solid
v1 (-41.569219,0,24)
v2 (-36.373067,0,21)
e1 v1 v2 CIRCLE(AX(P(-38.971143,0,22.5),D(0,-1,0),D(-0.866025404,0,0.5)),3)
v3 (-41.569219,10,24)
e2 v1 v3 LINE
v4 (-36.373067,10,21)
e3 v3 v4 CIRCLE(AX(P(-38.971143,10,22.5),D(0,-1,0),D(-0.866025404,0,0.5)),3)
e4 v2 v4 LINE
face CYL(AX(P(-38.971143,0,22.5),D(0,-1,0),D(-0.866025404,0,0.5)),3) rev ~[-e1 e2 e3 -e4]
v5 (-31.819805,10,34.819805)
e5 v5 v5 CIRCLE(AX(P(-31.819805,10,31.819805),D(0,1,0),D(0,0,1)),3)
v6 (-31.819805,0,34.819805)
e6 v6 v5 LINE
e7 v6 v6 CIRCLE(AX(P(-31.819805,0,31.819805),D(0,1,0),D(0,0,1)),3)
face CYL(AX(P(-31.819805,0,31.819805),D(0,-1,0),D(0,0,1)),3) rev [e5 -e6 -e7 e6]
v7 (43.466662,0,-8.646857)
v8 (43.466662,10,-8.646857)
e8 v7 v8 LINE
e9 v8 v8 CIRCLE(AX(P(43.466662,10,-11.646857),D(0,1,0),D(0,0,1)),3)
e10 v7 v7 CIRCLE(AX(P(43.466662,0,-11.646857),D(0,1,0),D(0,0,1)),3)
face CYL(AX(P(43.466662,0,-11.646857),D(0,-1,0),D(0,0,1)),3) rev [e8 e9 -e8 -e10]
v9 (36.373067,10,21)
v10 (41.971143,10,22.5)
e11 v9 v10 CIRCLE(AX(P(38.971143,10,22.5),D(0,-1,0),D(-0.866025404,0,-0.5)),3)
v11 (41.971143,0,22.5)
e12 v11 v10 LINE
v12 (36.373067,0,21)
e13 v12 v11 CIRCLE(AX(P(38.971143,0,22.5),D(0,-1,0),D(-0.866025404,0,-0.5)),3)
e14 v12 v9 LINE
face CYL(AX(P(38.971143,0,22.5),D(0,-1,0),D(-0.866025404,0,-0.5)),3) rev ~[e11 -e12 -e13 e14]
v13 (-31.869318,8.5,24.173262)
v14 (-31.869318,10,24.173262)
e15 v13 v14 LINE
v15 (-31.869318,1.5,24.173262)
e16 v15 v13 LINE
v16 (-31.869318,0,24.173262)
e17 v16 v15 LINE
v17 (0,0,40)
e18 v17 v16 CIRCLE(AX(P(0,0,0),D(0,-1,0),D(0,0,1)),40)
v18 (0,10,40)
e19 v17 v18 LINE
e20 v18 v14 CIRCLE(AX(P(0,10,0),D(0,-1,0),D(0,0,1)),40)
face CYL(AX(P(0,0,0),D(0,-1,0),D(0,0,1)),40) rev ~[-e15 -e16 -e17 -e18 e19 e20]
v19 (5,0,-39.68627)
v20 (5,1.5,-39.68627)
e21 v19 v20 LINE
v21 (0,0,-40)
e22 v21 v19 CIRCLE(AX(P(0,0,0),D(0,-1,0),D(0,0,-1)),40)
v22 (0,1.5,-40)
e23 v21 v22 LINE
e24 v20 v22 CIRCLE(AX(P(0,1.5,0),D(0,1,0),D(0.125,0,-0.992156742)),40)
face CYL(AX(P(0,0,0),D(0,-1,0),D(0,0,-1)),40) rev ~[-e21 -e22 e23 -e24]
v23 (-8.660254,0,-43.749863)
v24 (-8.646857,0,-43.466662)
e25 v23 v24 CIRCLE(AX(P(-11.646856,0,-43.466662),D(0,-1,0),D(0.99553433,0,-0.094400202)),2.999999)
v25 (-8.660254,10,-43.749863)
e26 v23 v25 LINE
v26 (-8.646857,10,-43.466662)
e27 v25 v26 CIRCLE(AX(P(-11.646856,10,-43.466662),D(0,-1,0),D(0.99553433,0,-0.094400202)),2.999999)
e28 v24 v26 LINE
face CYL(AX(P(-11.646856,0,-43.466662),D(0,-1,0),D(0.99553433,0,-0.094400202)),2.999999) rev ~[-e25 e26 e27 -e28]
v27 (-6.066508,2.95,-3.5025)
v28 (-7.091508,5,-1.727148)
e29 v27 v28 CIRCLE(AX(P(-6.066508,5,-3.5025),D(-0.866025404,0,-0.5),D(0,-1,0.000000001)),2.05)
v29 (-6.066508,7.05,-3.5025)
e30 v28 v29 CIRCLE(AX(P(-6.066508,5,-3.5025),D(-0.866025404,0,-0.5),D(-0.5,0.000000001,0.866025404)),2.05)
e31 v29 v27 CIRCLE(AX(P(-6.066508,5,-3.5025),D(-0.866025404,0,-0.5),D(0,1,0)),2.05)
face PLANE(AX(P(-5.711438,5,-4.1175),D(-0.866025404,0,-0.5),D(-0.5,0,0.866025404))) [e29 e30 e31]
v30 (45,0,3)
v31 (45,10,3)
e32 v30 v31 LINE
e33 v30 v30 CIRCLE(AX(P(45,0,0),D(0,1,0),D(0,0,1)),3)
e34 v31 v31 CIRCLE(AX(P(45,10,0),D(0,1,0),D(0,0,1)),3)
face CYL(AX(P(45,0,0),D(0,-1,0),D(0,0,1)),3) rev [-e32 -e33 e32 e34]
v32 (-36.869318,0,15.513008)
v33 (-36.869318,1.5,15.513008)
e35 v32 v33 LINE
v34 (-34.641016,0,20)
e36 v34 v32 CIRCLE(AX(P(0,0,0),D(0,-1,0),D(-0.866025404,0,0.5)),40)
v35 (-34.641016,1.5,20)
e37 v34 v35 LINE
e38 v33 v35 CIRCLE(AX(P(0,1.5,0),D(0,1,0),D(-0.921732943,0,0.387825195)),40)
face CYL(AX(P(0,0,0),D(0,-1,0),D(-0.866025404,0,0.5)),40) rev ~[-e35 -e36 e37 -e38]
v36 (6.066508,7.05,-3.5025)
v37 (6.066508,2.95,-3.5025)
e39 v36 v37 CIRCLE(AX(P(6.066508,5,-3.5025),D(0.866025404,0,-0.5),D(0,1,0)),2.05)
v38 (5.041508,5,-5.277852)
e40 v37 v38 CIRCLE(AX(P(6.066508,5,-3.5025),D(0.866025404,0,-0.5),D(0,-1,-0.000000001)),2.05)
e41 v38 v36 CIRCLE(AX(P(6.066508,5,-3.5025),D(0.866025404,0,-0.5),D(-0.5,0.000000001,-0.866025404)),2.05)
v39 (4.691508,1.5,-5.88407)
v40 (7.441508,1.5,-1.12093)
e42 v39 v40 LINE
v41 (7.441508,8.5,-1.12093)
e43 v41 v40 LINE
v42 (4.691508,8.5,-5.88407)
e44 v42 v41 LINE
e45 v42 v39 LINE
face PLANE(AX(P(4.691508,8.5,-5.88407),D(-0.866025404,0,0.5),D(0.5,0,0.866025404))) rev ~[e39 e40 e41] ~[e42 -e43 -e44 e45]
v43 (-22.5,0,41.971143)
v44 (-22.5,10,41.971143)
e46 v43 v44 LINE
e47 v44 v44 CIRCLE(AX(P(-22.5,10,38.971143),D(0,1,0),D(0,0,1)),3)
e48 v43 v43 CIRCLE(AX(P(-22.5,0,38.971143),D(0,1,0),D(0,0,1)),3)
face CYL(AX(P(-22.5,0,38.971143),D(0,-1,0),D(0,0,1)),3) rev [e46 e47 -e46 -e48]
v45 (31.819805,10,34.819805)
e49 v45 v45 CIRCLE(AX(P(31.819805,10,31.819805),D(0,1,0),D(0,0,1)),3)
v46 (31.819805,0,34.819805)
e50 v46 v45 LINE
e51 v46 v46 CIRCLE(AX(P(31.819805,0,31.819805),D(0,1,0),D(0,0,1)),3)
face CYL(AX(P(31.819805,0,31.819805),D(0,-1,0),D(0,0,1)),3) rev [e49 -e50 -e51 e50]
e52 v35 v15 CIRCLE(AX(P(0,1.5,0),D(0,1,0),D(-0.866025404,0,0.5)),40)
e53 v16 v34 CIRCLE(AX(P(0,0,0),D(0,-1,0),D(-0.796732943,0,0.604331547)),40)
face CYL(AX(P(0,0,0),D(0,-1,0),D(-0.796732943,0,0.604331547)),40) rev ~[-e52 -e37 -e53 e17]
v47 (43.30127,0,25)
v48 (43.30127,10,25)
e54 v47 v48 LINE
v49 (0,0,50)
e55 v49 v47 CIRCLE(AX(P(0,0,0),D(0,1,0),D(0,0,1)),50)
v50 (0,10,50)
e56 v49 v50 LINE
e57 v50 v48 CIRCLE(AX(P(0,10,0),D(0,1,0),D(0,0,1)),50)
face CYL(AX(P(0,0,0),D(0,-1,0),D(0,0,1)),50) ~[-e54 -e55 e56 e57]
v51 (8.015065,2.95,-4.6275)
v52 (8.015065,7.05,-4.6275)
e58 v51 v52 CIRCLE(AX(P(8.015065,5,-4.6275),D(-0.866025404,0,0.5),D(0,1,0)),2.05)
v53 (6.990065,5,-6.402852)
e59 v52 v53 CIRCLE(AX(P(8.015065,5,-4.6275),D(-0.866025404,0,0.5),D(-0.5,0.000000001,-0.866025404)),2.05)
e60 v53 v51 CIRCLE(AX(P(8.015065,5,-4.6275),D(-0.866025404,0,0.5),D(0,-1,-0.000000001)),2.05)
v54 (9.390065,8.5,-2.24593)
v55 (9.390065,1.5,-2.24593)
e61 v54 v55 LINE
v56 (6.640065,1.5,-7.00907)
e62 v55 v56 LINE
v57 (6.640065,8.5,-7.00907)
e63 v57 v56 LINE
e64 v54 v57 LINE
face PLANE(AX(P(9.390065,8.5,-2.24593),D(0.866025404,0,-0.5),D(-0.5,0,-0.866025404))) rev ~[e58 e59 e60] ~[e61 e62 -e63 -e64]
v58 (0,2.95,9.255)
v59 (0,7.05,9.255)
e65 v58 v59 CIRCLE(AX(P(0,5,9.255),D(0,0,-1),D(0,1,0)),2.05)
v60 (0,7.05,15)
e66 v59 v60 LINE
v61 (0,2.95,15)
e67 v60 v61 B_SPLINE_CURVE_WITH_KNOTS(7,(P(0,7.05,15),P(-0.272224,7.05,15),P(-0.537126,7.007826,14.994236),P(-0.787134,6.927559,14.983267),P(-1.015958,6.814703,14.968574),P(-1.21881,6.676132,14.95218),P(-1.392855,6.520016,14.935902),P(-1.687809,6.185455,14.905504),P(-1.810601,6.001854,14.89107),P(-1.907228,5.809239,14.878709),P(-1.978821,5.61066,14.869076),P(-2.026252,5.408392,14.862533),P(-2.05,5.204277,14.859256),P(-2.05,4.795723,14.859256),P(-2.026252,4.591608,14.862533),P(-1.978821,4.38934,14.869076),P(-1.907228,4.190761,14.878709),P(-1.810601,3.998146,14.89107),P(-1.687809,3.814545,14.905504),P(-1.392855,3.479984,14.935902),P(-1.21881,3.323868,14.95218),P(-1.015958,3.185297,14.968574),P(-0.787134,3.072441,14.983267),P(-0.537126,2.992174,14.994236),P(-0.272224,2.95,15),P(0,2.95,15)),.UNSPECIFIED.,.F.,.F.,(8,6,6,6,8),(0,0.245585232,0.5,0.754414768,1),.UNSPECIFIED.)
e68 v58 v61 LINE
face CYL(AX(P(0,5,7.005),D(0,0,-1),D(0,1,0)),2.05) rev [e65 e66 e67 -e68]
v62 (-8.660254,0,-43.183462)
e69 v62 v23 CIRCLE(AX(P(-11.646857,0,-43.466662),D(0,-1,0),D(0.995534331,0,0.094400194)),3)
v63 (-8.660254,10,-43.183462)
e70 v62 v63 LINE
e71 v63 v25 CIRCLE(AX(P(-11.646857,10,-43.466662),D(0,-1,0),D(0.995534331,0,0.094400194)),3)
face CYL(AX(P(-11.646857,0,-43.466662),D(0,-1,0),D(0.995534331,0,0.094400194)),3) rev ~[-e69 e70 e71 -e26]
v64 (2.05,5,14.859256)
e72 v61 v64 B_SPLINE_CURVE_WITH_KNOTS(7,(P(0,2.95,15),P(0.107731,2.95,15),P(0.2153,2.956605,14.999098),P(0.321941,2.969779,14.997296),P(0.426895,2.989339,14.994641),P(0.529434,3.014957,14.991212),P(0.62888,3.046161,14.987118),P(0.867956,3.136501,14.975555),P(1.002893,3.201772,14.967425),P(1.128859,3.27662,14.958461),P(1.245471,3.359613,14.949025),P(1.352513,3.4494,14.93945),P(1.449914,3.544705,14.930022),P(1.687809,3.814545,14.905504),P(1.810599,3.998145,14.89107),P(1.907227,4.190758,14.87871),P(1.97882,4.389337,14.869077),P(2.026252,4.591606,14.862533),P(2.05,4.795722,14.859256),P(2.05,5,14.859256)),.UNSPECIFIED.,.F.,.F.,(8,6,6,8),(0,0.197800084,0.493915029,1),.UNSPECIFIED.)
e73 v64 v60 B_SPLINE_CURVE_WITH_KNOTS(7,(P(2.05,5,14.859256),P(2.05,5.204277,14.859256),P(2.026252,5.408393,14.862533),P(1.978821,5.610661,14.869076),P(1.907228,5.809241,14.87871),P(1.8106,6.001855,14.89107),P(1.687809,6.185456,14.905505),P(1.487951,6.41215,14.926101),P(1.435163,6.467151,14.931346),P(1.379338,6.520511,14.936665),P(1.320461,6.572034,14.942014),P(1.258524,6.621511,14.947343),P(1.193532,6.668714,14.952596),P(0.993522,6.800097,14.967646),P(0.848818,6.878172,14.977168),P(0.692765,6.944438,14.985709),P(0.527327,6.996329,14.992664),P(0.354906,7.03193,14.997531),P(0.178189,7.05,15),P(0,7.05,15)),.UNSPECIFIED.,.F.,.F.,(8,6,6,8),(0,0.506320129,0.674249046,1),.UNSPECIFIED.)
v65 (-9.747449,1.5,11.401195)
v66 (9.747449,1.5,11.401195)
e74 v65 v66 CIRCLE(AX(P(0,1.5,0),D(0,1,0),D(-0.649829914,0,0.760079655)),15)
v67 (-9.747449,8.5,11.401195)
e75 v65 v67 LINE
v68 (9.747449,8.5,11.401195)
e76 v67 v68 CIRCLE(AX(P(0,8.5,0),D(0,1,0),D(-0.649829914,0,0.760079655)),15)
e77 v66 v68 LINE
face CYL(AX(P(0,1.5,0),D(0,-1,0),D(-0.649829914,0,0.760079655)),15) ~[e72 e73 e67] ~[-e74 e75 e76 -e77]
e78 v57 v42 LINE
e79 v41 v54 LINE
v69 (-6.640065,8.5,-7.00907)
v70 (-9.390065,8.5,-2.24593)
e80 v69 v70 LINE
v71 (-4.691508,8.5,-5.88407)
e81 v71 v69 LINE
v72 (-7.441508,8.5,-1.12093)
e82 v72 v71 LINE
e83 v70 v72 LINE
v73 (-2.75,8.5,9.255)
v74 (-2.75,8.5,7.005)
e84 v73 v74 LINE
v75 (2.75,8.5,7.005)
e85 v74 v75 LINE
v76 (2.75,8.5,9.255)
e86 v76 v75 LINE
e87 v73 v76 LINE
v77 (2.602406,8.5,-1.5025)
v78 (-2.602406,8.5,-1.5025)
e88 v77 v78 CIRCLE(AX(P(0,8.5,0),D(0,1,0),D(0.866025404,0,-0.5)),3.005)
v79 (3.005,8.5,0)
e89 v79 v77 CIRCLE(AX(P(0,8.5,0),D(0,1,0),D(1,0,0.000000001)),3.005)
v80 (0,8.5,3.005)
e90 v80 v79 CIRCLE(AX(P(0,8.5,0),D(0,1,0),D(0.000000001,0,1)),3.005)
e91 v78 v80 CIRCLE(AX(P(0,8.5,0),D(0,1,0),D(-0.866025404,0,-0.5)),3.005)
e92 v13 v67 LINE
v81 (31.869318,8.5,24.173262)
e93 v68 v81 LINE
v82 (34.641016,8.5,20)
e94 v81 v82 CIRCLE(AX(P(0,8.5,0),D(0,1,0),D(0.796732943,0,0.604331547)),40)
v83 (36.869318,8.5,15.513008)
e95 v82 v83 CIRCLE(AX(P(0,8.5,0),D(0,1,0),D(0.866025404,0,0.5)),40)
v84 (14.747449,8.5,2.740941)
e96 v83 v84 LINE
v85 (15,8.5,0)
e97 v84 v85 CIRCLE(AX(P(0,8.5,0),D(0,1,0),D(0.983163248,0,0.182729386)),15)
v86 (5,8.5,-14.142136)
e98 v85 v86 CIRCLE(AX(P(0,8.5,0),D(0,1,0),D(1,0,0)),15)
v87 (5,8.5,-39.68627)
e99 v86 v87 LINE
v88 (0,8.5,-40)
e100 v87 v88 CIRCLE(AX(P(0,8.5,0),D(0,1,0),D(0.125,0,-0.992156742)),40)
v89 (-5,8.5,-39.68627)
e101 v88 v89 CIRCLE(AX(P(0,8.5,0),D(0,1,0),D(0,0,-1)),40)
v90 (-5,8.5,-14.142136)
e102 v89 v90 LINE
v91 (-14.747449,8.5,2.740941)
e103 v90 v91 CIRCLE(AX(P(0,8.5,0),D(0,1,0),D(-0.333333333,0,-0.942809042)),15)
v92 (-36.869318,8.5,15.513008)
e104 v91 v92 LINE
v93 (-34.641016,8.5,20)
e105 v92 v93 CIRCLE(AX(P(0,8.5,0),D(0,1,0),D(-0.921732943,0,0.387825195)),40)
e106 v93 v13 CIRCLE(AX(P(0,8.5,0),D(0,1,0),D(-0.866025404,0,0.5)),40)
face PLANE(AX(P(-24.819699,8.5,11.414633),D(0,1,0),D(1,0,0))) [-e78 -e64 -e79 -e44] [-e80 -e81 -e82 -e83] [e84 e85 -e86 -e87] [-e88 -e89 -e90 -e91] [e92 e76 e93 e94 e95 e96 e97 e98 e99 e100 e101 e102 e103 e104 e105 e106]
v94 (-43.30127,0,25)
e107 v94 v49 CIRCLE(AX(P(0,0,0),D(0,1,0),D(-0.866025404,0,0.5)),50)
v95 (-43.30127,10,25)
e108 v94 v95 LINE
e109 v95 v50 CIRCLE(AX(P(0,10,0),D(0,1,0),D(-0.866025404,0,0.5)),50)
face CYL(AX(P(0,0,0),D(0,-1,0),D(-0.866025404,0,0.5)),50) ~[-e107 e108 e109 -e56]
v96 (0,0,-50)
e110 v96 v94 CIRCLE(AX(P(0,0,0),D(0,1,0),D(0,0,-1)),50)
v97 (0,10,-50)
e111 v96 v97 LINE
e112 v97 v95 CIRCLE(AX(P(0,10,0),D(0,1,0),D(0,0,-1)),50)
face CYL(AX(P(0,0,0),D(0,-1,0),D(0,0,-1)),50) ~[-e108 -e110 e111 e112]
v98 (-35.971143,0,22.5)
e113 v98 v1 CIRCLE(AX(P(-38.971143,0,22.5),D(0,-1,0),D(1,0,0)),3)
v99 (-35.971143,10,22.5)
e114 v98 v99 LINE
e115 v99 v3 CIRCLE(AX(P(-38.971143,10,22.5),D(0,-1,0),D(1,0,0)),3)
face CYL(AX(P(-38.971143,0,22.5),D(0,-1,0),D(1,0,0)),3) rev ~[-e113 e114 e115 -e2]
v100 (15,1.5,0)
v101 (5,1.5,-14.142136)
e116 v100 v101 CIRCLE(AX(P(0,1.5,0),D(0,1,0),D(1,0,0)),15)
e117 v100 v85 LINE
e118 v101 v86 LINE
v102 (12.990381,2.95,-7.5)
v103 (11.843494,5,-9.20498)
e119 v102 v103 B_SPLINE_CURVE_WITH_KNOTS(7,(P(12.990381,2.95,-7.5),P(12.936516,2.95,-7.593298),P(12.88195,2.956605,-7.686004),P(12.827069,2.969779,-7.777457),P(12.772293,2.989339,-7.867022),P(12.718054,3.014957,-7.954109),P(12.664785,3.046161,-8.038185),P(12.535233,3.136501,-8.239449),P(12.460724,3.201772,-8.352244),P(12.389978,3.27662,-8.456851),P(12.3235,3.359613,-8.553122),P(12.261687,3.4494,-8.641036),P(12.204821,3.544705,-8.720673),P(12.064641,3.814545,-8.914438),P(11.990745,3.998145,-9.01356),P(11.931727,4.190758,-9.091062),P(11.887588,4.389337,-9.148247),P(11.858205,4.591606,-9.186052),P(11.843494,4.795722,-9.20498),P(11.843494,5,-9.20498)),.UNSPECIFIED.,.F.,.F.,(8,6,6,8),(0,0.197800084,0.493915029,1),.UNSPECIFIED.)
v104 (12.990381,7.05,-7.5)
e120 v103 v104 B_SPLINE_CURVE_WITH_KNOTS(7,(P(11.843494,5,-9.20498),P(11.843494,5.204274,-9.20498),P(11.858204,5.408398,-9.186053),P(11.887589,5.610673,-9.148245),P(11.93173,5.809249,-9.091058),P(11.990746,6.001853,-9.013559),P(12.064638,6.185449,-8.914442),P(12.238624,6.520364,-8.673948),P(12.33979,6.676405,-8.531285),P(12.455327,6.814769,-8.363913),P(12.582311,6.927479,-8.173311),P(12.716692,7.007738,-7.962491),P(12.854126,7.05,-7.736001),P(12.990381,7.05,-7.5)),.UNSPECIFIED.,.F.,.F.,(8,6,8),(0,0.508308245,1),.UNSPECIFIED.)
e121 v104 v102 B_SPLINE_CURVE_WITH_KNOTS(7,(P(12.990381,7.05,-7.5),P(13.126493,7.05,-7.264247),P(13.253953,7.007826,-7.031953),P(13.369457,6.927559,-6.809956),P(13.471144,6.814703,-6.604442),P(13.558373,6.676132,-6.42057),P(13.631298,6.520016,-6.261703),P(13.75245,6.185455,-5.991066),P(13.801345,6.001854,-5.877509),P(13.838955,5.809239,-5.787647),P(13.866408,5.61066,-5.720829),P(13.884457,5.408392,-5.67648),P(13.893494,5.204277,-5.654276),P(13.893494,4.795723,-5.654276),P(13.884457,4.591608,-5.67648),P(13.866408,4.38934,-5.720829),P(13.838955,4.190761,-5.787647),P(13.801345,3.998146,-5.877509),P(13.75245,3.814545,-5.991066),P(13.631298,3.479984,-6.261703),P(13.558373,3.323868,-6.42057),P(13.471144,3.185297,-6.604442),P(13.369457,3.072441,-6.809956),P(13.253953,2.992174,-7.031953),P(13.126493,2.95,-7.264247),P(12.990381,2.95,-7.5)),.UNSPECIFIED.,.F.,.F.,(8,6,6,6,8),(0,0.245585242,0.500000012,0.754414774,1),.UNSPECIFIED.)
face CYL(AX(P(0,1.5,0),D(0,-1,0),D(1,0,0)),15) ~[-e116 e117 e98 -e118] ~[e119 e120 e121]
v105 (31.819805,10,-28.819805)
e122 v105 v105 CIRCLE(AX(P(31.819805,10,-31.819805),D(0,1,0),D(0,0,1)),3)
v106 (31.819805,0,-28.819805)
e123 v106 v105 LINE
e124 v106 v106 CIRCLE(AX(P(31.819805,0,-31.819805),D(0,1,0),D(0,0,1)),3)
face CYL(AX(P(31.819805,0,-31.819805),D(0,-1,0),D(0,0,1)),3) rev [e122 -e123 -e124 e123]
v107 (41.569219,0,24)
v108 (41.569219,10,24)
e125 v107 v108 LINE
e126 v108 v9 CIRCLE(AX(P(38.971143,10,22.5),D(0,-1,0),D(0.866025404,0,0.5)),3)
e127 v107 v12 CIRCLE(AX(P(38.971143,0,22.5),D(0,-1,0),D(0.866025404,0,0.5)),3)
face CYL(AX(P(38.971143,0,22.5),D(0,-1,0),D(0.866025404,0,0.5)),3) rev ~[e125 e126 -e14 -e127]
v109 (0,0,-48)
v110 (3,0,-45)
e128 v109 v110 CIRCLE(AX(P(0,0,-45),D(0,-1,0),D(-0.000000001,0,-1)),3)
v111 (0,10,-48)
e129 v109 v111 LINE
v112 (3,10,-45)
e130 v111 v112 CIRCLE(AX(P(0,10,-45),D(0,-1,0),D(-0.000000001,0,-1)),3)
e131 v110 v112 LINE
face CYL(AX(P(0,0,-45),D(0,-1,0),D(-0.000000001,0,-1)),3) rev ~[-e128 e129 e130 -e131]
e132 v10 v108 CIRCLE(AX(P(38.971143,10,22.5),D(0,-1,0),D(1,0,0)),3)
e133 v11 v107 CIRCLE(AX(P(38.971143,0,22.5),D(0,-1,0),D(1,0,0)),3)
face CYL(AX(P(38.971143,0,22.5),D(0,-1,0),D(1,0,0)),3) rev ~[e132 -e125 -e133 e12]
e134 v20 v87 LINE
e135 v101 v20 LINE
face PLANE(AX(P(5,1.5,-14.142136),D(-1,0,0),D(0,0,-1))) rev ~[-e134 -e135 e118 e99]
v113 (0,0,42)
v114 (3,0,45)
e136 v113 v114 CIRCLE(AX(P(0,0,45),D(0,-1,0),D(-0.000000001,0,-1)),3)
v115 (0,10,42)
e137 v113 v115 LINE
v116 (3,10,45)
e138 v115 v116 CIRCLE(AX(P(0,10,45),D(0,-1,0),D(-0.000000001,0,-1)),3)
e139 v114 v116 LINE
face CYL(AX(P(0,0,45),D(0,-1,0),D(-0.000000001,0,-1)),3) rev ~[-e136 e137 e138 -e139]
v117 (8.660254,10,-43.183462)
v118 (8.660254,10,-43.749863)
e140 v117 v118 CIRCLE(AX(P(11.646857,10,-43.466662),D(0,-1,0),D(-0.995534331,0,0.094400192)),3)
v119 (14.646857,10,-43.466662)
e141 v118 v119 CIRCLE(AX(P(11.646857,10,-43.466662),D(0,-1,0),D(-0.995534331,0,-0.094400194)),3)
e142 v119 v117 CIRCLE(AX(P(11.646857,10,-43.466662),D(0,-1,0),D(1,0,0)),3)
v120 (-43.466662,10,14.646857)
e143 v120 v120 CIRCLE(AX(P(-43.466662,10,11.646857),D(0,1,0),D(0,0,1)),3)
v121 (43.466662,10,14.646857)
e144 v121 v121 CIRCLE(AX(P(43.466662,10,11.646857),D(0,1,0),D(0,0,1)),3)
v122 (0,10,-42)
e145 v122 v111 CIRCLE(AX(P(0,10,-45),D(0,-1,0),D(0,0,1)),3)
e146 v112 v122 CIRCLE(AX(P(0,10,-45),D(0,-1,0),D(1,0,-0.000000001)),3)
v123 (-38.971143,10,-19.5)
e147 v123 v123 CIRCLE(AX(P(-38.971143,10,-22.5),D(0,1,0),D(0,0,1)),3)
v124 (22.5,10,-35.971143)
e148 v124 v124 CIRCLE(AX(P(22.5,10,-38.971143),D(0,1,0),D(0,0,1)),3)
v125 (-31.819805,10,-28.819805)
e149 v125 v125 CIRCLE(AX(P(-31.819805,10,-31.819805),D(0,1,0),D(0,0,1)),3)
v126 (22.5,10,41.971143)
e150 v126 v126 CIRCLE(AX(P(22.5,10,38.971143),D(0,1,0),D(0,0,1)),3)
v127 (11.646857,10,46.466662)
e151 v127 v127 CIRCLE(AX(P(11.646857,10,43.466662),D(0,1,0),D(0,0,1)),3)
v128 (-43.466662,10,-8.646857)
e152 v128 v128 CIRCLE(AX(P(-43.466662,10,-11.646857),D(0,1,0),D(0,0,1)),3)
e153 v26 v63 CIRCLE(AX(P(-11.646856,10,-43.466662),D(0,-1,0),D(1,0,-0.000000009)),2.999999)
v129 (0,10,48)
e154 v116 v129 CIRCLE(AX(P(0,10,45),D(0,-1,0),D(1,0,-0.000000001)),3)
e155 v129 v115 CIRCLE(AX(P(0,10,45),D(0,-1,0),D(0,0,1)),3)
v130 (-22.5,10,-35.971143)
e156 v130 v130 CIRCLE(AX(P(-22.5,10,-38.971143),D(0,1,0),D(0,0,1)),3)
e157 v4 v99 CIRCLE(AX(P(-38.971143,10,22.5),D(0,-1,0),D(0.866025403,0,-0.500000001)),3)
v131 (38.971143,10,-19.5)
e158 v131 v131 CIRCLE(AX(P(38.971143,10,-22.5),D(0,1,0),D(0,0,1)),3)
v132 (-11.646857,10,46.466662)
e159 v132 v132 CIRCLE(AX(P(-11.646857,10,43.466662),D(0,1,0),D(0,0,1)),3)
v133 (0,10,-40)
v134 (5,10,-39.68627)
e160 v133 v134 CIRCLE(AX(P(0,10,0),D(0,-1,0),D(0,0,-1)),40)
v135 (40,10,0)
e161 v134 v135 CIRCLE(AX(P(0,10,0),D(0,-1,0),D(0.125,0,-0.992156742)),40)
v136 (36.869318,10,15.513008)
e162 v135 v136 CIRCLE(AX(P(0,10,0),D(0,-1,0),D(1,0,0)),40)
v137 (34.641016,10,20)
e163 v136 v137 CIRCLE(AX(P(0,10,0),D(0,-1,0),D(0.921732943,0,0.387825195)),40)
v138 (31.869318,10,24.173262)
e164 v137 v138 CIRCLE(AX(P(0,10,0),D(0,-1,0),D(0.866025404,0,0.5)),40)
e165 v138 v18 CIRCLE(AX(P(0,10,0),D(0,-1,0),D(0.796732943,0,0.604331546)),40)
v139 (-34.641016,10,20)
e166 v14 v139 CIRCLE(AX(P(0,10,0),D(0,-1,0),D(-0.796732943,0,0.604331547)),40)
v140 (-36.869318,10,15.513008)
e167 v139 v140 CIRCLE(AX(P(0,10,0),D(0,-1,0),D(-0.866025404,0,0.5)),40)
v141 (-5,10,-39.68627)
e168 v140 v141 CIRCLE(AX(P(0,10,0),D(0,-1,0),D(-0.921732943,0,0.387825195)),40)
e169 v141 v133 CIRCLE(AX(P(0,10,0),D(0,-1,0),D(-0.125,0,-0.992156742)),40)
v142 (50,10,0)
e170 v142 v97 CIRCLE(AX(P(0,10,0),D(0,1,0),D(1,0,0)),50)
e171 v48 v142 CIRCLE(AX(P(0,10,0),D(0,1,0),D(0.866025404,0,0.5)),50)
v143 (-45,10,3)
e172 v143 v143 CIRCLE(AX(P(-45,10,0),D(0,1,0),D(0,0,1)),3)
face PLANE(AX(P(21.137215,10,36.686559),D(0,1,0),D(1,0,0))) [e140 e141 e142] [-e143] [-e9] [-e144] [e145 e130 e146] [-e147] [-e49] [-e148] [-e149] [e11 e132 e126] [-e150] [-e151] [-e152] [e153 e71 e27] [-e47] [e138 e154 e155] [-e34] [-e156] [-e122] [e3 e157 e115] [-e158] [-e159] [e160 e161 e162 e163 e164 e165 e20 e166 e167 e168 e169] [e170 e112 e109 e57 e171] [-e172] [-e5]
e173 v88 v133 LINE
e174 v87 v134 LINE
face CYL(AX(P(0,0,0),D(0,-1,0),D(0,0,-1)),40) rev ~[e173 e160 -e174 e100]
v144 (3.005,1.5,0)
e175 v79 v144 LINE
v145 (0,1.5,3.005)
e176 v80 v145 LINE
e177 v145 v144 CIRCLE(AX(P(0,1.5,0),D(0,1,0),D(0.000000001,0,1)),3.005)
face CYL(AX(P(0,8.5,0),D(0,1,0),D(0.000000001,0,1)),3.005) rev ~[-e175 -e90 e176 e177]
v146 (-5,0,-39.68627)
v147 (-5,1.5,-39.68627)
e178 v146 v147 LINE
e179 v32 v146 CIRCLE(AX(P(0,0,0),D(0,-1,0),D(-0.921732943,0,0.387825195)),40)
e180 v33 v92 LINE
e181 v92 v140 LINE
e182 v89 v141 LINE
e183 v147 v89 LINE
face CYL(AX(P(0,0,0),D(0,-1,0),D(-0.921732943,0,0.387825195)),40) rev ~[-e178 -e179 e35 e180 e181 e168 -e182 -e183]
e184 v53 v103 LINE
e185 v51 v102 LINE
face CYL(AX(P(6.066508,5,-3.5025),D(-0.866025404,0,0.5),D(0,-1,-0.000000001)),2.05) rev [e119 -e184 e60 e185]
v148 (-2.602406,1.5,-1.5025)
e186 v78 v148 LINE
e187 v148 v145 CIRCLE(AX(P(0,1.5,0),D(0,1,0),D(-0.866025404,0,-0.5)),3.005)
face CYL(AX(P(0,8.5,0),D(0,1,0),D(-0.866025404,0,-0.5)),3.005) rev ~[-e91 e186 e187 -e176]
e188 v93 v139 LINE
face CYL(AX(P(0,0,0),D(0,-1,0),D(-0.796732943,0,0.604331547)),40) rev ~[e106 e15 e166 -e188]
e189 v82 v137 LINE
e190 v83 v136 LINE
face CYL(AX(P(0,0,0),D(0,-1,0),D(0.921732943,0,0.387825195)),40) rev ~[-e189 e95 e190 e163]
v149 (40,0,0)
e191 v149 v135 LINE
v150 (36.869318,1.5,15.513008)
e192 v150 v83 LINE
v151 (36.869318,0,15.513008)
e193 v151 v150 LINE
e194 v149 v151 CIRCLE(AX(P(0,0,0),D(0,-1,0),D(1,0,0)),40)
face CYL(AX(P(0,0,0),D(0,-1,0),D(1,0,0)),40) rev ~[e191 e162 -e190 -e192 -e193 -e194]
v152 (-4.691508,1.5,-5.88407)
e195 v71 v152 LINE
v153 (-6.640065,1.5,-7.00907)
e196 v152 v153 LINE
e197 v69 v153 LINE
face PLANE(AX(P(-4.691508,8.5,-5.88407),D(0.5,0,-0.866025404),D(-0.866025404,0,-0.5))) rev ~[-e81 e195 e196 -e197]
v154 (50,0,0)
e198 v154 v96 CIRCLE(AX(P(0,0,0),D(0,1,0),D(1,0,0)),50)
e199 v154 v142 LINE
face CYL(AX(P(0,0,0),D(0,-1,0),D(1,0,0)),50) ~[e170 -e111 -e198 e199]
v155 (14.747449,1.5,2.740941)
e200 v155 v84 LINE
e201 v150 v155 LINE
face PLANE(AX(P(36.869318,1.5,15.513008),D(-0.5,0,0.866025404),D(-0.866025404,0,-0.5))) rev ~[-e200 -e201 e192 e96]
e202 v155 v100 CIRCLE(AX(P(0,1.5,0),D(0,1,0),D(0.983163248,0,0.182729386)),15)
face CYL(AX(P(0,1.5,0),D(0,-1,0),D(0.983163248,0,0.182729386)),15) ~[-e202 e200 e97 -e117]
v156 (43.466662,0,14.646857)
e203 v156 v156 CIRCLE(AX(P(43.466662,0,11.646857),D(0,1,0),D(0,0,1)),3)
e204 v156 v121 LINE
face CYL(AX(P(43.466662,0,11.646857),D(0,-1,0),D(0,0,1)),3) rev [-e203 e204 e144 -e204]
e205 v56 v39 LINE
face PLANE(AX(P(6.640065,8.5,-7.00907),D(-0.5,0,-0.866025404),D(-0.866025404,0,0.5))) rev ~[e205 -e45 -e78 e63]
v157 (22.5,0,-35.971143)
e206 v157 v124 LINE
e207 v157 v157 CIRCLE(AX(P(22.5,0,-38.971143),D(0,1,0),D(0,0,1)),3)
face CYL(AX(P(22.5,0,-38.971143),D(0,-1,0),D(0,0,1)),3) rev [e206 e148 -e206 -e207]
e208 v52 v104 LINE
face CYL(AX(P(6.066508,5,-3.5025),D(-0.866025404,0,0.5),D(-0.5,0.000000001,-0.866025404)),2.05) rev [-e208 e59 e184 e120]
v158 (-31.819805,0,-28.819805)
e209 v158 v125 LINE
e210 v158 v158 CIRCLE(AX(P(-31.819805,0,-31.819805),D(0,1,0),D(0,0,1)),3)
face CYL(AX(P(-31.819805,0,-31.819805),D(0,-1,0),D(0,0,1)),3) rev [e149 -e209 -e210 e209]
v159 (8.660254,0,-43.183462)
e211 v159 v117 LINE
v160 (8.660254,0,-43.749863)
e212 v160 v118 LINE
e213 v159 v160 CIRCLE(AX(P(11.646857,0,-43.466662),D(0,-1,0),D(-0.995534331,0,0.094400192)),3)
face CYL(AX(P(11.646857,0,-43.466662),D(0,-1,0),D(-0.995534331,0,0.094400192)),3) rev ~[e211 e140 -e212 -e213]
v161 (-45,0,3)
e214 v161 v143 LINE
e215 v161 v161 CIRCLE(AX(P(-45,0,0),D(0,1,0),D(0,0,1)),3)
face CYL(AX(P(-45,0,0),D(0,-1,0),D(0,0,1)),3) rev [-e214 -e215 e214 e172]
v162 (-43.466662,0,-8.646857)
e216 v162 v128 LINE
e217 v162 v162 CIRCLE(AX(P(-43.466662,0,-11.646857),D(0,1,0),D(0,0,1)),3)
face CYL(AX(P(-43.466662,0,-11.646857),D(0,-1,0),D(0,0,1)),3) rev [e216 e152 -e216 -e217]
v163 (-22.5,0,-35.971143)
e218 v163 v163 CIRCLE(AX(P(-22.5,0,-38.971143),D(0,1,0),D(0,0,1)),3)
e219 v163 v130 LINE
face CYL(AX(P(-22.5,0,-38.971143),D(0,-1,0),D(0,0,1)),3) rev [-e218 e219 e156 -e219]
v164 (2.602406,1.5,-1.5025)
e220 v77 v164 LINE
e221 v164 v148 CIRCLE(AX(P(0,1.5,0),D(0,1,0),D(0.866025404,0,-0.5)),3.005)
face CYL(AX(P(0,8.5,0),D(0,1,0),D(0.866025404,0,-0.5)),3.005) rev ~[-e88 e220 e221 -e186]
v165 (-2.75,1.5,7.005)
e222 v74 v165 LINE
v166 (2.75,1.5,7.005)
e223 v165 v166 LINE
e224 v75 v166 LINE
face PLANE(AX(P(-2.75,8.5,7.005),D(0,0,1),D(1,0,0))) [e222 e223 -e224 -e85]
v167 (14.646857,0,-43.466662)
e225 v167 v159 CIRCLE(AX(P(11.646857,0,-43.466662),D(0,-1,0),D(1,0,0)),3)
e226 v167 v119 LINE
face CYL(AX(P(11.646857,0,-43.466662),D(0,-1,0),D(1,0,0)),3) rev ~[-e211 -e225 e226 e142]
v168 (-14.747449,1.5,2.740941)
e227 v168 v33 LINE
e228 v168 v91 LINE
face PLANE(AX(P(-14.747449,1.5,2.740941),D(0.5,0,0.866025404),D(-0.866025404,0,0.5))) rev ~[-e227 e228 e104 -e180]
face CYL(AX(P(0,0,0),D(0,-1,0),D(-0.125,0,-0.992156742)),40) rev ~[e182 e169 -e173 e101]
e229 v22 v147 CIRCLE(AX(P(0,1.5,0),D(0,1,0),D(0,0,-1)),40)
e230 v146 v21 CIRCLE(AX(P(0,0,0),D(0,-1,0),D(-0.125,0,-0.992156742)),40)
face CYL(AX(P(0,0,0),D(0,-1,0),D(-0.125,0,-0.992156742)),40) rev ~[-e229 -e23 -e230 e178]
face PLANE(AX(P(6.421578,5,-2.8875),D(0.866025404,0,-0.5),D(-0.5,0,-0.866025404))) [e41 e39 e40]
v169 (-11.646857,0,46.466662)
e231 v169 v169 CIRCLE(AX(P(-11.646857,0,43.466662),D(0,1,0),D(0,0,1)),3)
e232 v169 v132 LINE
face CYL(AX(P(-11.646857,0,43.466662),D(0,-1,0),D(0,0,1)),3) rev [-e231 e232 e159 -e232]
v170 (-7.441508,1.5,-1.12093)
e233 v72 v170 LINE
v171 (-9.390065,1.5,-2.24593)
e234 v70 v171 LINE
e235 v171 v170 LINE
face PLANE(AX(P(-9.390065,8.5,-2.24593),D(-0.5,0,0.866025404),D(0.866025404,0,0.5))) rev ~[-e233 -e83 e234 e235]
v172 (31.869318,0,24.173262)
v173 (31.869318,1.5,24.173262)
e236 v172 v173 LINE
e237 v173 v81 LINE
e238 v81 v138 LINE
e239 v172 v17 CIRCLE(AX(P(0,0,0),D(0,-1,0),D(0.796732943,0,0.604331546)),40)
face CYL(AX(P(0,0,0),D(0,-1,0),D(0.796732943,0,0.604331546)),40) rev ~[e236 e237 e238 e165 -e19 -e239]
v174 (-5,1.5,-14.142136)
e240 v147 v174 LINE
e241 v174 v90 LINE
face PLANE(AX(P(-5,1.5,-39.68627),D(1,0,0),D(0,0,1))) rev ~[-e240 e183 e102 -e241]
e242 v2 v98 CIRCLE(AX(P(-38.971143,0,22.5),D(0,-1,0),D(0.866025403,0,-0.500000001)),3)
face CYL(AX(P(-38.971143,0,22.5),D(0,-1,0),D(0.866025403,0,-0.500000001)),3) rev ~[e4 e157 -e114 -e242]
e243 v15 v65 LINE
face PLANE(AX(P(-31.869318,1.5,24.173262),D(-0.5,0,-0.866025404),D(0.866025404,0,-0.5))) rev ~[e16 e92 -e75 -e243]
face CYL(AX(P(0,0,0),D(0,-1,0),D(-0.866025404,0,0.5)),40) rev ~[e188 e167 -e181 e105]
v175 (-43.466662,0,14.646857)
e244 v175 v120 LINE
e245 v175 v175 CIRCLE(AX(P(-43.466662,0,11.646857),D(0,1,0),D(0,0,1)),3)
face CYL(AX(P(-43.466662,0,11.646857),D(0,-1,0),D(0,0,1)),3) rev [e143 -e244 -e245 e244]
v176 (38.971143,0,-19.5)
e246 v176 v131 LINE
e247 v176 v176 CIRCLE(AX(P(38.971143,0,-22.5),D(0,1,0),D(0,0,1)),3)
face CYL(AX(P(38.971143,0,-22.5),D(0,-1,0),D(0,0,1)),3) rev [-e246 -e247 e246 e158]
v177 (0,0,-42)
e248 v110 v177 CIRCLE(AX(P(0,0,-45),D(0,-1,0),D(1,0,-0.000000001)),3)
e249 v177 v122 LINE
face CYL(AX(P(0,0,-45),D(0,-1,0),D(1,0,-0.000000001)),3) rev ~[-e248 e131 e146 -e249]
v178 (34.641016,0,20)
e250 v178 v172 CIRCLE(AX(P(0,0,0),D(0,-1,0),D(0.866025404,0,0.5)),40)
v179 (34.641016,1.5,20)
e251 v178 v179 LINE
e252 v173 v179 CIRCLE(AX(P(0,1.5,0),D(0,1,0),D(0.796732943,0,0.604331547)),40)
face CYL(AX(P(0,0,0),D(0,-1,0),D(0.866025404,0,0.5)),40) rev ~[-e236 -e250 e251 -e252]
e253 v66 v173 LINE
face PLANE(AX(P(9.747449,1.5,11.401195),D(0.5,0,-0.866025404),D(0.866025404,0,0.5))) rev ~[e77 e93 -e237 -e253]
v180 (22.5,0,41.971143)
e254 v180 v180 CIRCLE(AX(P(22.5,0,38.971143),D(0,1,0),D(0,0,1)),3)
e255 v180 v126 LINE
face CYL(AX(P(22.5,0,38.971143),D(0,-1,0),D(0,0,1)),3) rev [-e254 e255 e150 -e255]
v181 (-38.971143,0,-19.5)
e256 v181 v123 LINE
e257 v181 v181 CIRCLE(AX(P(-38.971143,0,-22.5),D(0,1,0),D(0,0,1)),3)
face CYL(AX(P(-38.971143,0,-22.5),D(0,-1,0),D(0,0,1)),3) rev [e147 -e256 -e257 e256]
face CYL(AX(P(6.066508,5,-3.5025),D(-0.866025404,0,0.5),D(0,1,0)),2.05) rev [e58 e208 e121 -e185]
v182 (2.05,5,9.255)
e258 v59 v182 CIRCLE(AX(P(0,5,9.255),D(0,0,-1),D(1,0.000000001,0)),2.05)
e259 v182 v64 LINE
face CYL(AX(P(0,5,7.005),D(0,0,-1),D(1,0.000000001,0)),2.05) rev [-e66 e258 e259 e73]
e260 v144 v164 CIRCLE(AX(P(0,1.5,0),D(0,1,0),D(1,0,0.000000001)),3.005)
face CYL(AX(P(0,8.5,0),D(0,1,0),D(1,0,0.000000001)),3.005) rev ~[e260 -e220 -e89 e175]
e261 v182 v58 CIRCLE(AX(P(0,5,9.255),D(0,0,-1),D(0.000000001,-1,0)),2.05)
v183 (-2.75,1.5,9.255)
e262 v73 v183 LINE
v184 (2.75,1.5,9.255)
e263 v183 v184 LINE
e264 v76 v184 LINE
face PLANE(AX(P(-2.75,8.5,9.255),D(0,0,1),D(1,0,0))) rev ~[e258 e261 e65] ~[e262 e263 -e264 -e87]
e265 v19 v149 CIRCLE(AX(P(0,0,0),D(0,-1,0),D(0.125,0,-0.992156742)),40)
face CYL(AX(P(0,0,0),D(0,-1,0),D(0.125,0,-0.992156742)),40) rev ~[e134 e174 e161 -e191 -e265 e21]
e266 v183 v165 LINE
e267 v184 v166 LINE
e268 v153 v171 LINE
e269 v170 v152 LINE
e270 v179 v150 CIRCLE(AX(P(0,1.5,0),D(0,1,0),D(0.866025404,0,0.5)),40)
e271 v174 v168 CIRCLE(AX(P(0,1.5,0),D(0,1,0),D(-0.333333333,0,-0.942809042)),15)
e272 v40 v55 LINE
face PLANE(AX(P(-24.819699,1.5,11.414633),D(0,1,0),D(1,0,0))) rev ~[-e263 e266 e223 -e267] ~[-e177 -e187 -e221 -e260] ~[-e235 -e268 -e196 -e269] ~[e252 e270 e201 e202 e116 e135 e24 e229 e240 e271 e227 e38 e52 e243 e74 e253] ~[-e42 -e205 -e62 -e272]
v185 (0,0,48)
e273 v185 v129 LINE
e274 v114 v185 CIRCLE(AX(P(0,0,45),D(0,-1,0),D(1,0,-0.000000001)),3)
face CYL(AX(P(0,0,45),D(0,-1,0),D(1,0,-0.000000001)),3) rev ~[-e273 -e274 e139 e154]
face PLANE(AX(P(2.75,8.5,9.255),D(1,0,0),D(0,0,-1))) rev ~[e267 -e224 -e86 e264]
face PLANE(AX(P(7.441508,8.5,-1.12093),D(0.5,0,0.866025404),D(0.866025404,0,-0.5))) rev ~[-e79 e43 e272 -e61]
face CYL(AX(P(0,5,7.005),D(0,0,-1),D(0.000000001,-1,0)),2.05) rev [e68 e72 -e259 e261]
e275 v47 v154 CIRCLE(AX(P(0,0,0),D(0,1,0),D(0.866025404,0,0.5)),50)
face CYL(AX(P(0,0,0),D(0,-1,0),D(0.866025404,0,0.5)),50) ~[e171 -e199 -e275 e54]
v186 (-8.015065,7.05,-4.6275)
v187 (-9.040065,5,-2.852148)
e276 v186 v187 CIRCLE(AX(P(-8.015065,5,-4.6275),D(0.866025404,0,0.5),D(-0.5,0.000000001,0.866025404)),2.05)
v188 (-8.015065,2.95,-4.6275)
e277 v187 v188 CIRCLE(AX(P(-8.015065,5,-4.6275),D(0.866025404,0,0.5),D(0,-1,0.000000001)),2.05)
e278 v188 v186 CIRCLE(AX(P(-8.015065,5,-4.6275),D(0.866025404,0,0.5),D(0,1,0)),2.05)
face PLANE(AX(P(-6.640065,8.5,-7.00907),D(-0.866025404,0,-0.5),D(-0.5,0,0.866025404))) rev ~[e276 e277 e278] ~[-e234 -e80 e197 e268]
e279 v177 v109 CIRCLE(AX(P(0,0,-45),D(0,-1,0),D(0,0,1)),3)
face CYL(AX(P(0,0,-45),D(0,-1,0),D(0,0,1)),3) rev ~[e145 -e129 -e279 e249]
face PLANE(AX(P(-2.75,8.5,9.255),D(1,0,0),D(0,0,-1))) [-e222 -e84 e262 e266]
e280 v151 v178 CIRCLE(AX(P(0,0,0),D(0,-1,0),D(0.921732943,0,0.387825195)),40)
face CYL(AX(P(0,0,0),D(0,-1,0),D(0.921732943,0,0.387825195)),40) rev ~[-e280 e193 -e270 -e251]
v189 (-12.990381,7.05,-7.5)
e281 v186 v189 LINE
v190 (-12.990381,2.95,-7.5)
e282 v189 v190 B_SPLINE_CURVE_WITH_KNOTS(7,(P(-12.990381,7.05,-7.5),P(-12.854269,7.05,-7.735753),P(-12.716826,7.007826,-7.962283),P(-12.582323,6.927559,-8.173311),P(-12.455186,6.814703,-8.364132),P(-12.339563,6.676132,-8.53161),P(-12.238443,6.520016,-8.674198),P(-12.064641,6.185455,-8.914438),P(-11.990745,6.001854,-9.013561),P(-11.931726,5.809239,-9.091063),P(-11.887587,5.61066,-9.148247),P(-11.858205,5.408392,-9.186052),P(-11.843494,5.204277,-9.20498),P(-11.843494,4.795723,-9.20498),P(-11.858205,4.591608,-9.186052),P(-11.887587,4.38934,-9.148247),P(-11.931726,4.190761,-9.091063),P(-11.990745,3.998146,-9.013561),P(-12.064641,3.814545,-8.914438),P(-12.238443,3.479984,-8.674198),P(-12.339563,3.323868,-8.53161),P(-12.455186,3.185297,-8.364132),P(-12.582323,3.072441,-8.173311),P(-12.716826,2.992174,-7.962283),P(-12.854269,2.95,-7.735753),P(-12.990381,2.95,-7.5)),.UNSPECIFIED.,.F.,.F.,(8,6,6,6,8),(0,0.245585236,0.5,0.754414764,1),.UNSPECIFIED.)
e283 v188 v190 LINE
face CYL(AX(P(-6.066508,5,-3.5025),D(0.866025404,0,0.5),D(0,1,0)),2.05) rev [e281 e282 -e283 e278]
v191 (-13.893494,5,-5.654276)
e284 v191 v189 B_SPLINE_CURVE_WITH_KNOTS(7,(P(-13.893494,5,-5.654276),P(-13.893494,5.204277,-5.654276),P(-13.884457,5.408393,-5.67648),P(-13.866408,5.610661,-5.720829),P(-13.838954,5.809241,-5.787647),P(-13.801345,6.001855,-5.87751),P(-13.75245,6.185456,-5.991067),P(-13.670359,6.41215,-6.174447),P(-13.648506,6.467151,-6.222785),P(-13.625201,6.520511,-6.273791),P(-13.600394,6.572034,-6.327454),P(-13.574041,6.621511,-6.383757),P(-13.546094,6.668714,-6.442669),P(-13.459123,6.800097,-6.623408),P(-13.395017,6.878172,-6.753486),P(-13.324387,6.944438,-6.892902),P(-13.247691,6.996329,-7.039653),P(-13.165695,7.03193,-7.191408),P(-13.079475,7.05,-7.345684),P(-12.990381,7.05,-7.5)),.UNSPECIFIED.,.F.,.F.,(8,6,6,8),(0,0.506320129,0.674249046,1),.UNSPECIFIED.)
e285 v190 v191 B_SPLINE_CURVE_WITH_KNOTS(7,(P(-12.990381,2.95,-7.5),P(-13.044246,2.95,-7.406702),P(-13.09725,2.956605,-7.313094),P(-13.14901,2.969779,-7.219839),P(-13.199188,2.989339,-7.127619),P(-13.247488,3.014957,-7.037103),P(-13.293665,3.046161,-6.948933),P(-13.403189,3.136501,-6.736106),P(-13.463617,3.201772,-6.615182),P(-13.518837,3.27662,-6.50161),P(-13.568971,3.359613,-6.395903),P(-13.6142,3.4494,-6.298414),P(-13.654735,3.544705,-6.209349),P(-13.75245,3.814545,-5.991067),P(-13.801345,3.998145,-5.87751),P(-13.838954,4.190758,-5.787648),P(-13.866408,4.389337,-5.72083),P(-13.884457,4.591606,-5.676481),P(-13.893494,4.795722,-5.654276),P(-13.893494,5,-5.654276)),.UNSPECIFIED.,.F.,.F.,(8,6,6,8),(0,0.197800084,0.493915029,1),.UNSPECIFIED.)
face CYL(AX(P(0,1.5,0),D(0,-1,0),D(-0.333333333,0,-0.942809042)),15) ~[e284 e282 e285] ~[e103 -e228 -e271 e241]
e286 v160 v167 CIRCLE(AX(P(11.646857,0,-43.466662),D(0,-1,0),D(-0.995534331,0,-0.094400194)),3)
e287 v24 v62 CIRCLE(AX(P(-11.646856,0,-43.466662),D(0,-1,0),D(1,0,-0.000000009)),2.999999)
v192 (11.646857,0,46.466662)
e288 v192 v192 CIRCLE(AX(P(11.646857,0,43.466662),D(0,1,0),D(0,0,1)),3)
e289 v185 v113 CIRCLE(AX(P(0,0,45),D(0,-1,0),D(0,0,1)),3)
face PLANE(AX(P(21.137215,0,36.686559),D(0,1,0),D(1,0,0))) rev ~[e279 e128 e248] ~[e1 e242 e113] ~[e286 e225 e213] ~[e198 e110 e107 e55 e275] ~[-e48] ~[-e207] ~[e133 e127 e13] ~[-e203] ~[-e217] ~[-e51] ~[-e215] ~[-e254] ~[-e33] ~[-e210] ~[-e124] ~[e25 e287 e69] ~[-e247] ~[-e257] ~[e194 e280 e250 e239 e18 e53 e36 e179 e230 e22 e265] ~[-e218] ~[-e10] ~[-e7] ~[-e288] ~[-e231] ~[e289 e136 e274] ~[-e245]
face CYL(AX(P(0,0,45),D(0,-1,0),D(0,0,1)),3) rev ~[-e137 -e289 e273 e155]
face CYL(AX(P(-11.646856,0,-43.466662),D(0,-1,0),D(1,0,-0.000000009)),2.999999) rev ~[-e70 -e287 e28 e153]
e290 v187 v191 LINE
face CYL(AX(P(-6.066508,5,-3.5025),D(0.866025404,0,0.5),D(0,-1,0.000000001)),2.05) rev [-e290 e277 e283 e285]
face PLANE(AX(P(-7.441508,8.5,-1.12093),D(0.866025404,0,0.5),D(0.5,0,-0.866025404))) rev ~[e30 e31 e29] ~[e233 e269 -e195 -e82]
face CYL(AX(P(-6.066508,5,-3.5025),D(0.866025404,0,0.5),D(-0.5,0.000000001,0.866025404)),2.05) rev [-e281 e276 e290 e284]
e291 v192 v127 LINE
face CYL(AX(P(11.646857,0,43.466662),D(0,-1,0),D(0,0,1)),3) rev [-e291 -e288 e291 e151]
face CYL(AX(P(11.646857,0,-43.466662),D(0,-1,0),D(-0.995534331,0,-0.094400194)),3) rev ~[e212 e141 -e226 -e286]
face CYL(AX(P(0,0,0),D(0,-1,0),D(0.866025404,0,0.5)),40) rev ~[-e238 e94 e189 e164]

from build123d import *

# Parameters (mm, degrees)
SKETCH2_R                = 3
BOSS_EXTRUDE4_DEPTH      = 10
BOSS_EXTRUDE8_DEPTH      = 3.5
BOSS_EXTRUDE8_DEPTH_BACK = 3.5
BOSS_EXTRUDE8_START      = 5
SKETCH7_W                = 5.5
SKETCH7_H                = 2.25
CUT_EXTRUDE2_DEPTH       = 72.219730412
CUT_EXTRUDE3_DEPTH       = 16
CUT_EXTRUDE4_DEPTH       = 17
CUT_EXTRUDE5_DEPTH       = 22


with BuildPart() as part:
    # Sketch2 → Boss-Extrude4 (new body)
    # profile 1 of 4: a face of its own
    with BuildSketch(Plane(origin=(0, 0, 0), x_dir=(1, 0, 0), z_dir=(0, 1, 0))):
        with BuildLine():
            Line((0, -42), (0, -40))
            ThreePointArc((0, -40), (-17.79142386, -35.825483068), (-31.869317712, -24.173261852))
            ThreePointArc((-31.869317712, -24.173261852), (-33.320566566, -22.13006651), (-34.641016151, -20))
            Line((-34.641016151, -20), (-36.373066959, -21))
            ThreePointArc((-36.373066959, -21), (-36.073365691, -21.723542865), (-35.97114317, -22.5))
            ThreePointArc((-35.97114317, -22.5), (-38.194686035, -25.397777479), (-41.569219382, -24))
            Line((-41.569219382, -24), (-43.301270189, -25))
            ThreePointArc((-43.301270189, -25), (-25, -43.301270189), (0, -50))
            Line((0, -50), (0, -48))
            ThreePointArc((0, -48), (-3, -45), (0, -42))
        make_face()
        with Locations(Location((-31.819805153, -31.819805153, 0), (0, 0, 270))):
            Circle(SKETCH2_R, mode=Mode.SUBTRACT)
        with Locations(Location((-22.5, -38.97114317, 0), (0, 0, 270))):
            Circle(SKETCH2_R, mode=Mode.SUBTRACT)
        with Locations(Location((-11.64685703, -43.466662183, 0), (0, 0, 270))):
            Circle(SKETCH2_R, mode=Mode.SUBTRACT)
    # profile 2 of 4: a face of its own
    with BuildSketch(Plane(origin=(0, 0, 0), x_dir=(1, 0, 0), z_dir=(0, 1, 0))):
        with BuildLine():
            Line((-36.373066959, -21), (-34.641016151, -20))
            ThreePointArc((-34.641016151, -20), (-35.825483068, -17.79142386), (-36.869317712, -15.513007814))
            ThreePointArc((-36.869317712, -15.513007814), (-34.641016151, 20), (-5, 39.686269666))
            ThreePointArc((-5, 39.686269666), (-2.504916502, 39.921490369), (0, 40))
            Line((0, 40), (0, 42))
            ThreePointArc((0, 42), (-3, 45), (0, 48))
            Line((0, 48), (0, 50))
            ThreePointArc((0, 50), (-43.301270189, 25), (-43.301270189, -25))
            Line((-43.301270189, -25), (-41.569219382, -24))
            ThreePointArc((-41.569219382, -24), (-40.47114317, -19.901923789), (-36.373066959, -21))
        make_face()
        with Locations(Location((-43.466662183, -11.64685703, 0), (0, 0, 270))):
            Circle(SKETCH2_R, mode=Mode.SUBTRACT)
        with Locations(Location((-45, 0, 0), (0, 0, 270))):
            Circle(SKETCH2_R, mode=Mode.SUBTRACT)
        with Locations(Location((-43.466662183, 11.64685703, 0), (0, 0, 270))):
            Circle(SKETCH2_R, mode=Mode.SUBTRACT)
        with Locations(Location((-38.97114317, 22.5, 0), (0, 0, 270))):
            Circle(SKETCH2_R, mode=Mode.SUBTRACT)
        with Locations(Location((-31.819805153, 31.819805153, 0), (0, 0, 270))):
            Circle(SKETCH2_R, mode=Mode.SUBTRACT)
        with Locations(Location((-22.5, 38.97114317, 0), (0, 0, 270))):
            Circle(SKETCH2_R, mode=Mode.SUBTRACT)
        with BuildLine():
            ThreePointArc((-8.64685703, 43.466662183), (-8.650208153, 43.324903542), (-8.660254038, 43.183461601))
            ThreePointArc((-8.660254038, 43.183461601), (-14.64685703, 43.466662183), (-8.660254038, 43.749862765))
            ThreePointArc((-8.660254038, 43.749862765), (-8.650208153, 43.608420824), (-8.64685703, 43.466662183))
        make_face(mode=Mode.SUBTRACT)
    # profile 3 of 4: a face of its own
    with BuildSketch(Plane(origin=(0, 0, 0), x_dir=(1, 0, 0), z_dir=(0, 1, 0))):
        with BuildLine():
            ThreePointArc((36.869317712, -15.513007814), (35.825483068, -17.79142386), (34.641016151, -20))
            Line((34.641016151, -20), (36.373066959, -21))
            ThreePointArc((36.373066959, -21), (39.747600306, -19.602222521), (41.97114317, -22.5))
            ThreePointArc((41.97114317, -22.5), (41.868920649, -23.276457135), (41.569219382, -24))
            Line((41.569219382, -24), (43.301270189, -25))
            ThreePointArc((43.301270189, -25), (48.296291314, -12.940952255), (50, 0))
            ThreePointArc((50, 0), (35.355339059, 35.355339059), (0, 50))
            Line((0, 50), (0, 48))
            ThreePointArc((0, 48), (2.121320344, 47.121320344), (3, 45))
            ThreePointArc((3, 45), (2.121320344, 42.878679656), (0, 42))
            Line((0, 42), (0, 40))
            ThreePointArc((0, 40), (2.504916502, 39.921490369), (5, 39.686269666))
            ThreePointArc((5, 39.686269666), (30, 26.457513111), (40, 0))
            ThreePointArc((40, 0), (39.209518669, -7.912878475), (36.869317712, -15.513007814))
        make_face()
        with Locations(Location((43.466662183, -11.64685703, 0), (0, 0, 270))):
            Circle(SKETCH2_R, mode=Mode.SUBTRACT)
        with Locations(Location((45, 0, 0), (0, 0, 270))):
            Circle(SKETCH2_R, mode=Mode.SUBTRACT)
        with Locations(Location((43.466662183, 11.64685703, 0), (0, 0, 270))):
            Circle(SKETCH2_R, mode=Mode.SUBTRACT)
        with Locations(Location((38.97114317, 22.5, 0), (0, 0, 270))):
            Circle(SKETCH2_R, mode=Mode.SUBTRACT)
        with BuildLine():
            ThreePointArc((14.64685703, 43.466662183), (11.788615671, 40.470013307), (8.660254038, 43.183461601))
            ThreePointArc((8.660254038, 43.183461601), (8.64685703, 43.466662183), (8.660254038, 43.749862765))
            ThreePointArc((8.660254038, 43.749862765), (11.788615671, 46.463311059), (14.64685703, 43.466662183))
        make_face(mode=Mode.SUBTRACT)
        with Locations(Location((22.5, 38.97114317, 0), (0, 0, 270))):
            Circle(SKETCH2_R, mode=Mode.SUBTRACT)
        with Locations(Location((31.819805153, 31.819805153, 0), (0, 0, 270))):
            Circle(SKETCH2_R, mode=Mode.SUBTRACT)
    # profile 4 of 4: a face of its own
    with BuildSketch(Plane(origin=(0, 0, 0), x_dir=(1, 0, 0), z_dir=(0, 1, 0))):
        with BuildLine():
            ThreePointArc((31.869317712, -24.173261852), (17.79142386, -35.825483068), (0, -40))
            Line((0, -40), (0, -42))
            ThreePointArc((0, -42), (2.121320344, -42.878679656), (3, -45))
            ThreePointArc((3, -45), (2.121320344, -47.121320344), (0, -48))
            Line((0, -48), (0, -50))
            ThreePointArc((0, -50), (25, -43.301270189), (43.301270189, -25))
            Line((43.301270189, -25), (41.569219382, -24))
            ThreePointArc((41.569219382, -24), (37.47114317, -25.098076211), (36.373066959, -21))
            Line((36.373066959, -21), (34.641016151, -20))
            ThreePointArc((34.641016151, -20), (33.320566566, -22.13006651), (31.869317712, -24.173261852))
        make_face()
        with Locations(Location((11.64685703, -43.466662183, 0), (0, 0, 270))):
            Circle(SKETCH2_R, mode=Mode.SUBTRACT)
        with Locations(Location((22.5, -38.97114317, 0), (0, 0, 270))):
            Circle(SKETCH2_R, mode=Mode.SUBTRACT)
        with Locations(Location((31.819805153, -31.819805153, 0), (0, 0, 270))):
            Circle(SKETCH2_R, mode=Mode.SUBTRACT)
    extrude(amount=BOSS_EXTRUDE4_DEPTH)

    # Sketch6 → Boss-Extrude8 (add, two sides: drawn at the far end of the back side and taken through both)
    with BuildSketch(Plane(origin=(0, 0, 0), x_dir=(1, 0, 0), z_dir=(0, 1, 0)).offset(BOSS_EXTRUDE8_START - BOSS_EXTRUDE8_DEPTH_BACK)):
        with BuildLine():
            Line((-34.641016151, -20), (-12.990381057, -7.5))
            ThreePointArc((-12.990381057, -7.5), (-14.071565699, -5.195290056), (-14.747448714, -2.740940793))
            Line((-14.747448714, -2.740940793), (-36.869317712, -15.513007814))
            ThreePointArc((-36.869317712, -15.513007814), (-35.825483068, -17.79142386), (-34.641016151, -20))
        make_face()
        with BuildLine():
            ThreePointArc((-9.747448714, -11.401194831), (-11.535036018, -9.588688339), (-12.990381057, -7.5))
            Line((-12.990381057, -7.5), (-34.641016151, -20))
            ThreePointArc((-34.641016151, -20), (-33.320566566, -22.13006651), (-31.869317712, -24.173261852))
            Line((-31.869317712, -24.173261852), (-9.747448714, -11.401194831))
        make_face()
        with BuildLine():
            Line((-12.990381057, -7.5), (0, 0))
            Line((0, 0), (0, 15))
            ThreePointArc((0, 15), (-2.536529681, 14.783978395), (-5, 14.142135624))
            ThreePointArc((-5, 14.142135624), (-12.990381057, 7.5), (-14.747448714, -2.740940793))
            ThreePointArc((-14.747448714, -2.740940793), (-14.071565699, -5.195290056), (-12.990381057, -7.5))
        make_face()
        with BuildLine():
            Line((0, 15), (0, 0))
            Line((0, 0), (12.990381057, -7.5))
            ThreePointArc((12.990381057, -7.5), (14.071565699, -5.195290056), (14.747448714, -2.740940793))
            ThreePointArc((14.747448714, -2.740940793), (14.936728737, -1.376275643), (15, 0))
            ThreePointArc((15, 0), (12.247448714, 8.660254038), (5, 14.142135624))
            ThreePointArc((5, 14.142135624), (2.536529681, 14.783978395), (0, 15))
        make_face()
        with BuildLine():
            Line((12.990381057, -7.5), (0, 0))
            Line((0, 0), (-12.990381057, -7.5))
            ThreePointArc((-12.990381057, -7.5), (-11.535036018, -9.588688339), (-9.747448714, -11.401194831))
            ThreePointArc((-9.747448714, -11.401194831), (0, -15), (9.747448714, -11.401194831))
            ThreePointArc((9.747448714, -11.401194831), (11.535036018, -9.588688339), (12.990381057, -7.5))
        make_face()
        with BuildLine():
            Line((0, 40), (0, 15))
            ThreePointArc((0, 15), (2.536529681, 14.783978395), (5, 14.142135624))
            Line((5, 14.142135624), (5, 39.686269666))
            ThreePointArc((5, 39.686269666), (2.504916502, 39.921490369), (0, 40))
        make_face()
        with BuildLine():
            ThreePointArc((-5, 14.142135624), (-2.536529681, 14.783978395), (0, 15))
            Line((0, 15), (0, 40))
            ThreePointArc((0, 40), (-2.504916502, 39.921490369), (-5, 39.686269666))
            Line((-5, 39.686269666), (-5, 14.142135624))
        make_face()
        with BuildLine():
            ThreePointArc((14.747448714, -2.740940793), (14.071565699, -5.195290056), (12.990381057, -7.5))
            Line((12.990381057, -7.5), (34.641016151, -20))
            ThreePointArc((34.641016151, -20), (35.825483068, -17.79142386), (36.869317712, -15.513007814))
            Line((36.869317712, -15.513007814), (14.747448714, -2.740940793))
        make_face()
        with BuildLine():
            Line((34.641016151, -20), (12.990381057, -7.5))
            ThreePointArc((12.990381057, -7.5), (11.535036018, -9.588688339), (9.747448714, -11.401194831))
            Line((9.747448714, -11.401194831), (31.869317712, -24.173261852))
            ThreePointArc((31.869317712, -24.173261852), (33.320566566, -22.13006651), (34.641016151, -20))
        make_face()
    extrude(amount=BOSS_EXTRUDE8_DEPTH + BOSS_EXTRUDE8_DEPTH_BACK)

    # Sketch7 → Cut-Extrude2 (cut, through all)
    with BuildSketch(Plane(origin=(0, 8.5, 0), x_dir=(1, 0, 0), z_dir=(0, 1, 0))):
        Polygon((-4.691507954, 5.88406986), (-6.640065112, 7.00906986), (-9.390065112, 2.24593014), (-7.441507954, 1.12093014), align=None)
        with BuildLine():
            Line((-2.602406338, 1.5025), (0, 0))
            Line((0, 0), (2.602406338, 1.5025))
            ThreePointArc((2.602406338, 1.5025), (0, 3.005), (-2.602406338, 1.5025))
        make_face()
        with BuildLine():
            ThreePointArc((-2.602406338, 1.5025), (-2.602406338, -1.5025), (0, -3.005))
            Line((0, -3.005), (0, 0))
            Line((0, 0), (-2.602406338, 1.5025))
        make_face()
        with BuildLine():
            Line((0, 0), (0, -3.005))
            ThreePointArc((0, -3.005), (2.124855877, -2.124855877), (3.005, 0))
            ThreePointArc((3.005, 0), (2.902607108, 0.777751231), (2.602406338, 1.5025))
            Line((2.602406338, 1.5025), (0, 0))
        make_face()
        Polygon((7.441507954, 1.12093014), (9.390065112, 2.24593014), (6.640065112, 7.00906986), (4.691507954, 5.88406986), align=None)
        with Locations((0, -8.13)):
            Rectangle(SKETCH7_W, SKETCH7_H)
    extrude(amount=-CUT_EXTRUDE2_DEPTH, mode=Mode.SUBTRACT)

    # Sketch13 → Cut-Extrude3 (cut)
    with BuildSketch(Plane(origin=(-6.066507954, 0, -3.5025), x_dir=(-0.5000000000000038, 0, 0.8660254037844365), z_dir=(-0.8660254037844366, 0, -0.5000000000000038))):
        with BuildLine():
            ThreePointArc((0, 7.05), (-2.05, 5), (0, 2.95))
            Line((0, 2.95), (0, 7.05))
        make_face()
        with BuildLine():
            Line((0, 7.05), (0, 2.95))
            ThreePointArc((0, 2.95), (1.449568901, 3.550431099), (2.05, 5))
            ThreePointArc((2.05, 5), (1.449568901, 6.449568901), (0, 7.05))
        make_face()
    extrude(amount=CUT_EXTRUDE3_DEPTH, mode=Mode.SUBTRACT)

    # Sketch12 → Cut-Extrude4 (cut)
    with BuildSketch(Plane.XY.offset(7.005)):
        with BuildLine():
            ThreePointArc((0, 7.05), (-2.05, 5), (0, 2.95))
            Line((0, 2.95), (0, 7.05))
        make_face()
        with BuildLine():
            Line((0, 7.05), (0, 2.95))
            ThreePointArc((0, 2.95), (1.449568901, 3.550431099), (2.05, 5))
            ThreePointArc((2.05, 5), (1.449568901, 6.449568901), (0, 7.05))
        make_face()
    extrude(amount=CUT_EXTRUDE4_DEPTH, mode=Mode.SUBTRACT)

    # Sketch11 → Cut-Extrude5 (cut)
    with BuildSketch(Plane(origin=(6.066507954, 0, -3.5025), x_dir=(-0.4999999999999923, 0, -0.8660254037844431), z_dir=(0.866025403784443, 0, -0.49999999999999223))):
        with BuildLine():
            ThreePointArc((0, 7.05), (-2.05, 5), (0, 2.95))
            Line((0, 2.95), (0, 7.05))
        make_face()
        with BuildLine():
            Line((0, 7.05), (0, 2.95))
            ThreePointArc((0, 2.95), (1.449568901, 3.550431099), (2.05, 5))
            ThreePointArc((2.05, 5), (1.449568901, 6.449568901), (0, 7.05))
        make_face()
    extrude(amount=CUT_EXTRUDE5_DEPTH, mode=Mode.SUBTRACT)


solid = part.part
